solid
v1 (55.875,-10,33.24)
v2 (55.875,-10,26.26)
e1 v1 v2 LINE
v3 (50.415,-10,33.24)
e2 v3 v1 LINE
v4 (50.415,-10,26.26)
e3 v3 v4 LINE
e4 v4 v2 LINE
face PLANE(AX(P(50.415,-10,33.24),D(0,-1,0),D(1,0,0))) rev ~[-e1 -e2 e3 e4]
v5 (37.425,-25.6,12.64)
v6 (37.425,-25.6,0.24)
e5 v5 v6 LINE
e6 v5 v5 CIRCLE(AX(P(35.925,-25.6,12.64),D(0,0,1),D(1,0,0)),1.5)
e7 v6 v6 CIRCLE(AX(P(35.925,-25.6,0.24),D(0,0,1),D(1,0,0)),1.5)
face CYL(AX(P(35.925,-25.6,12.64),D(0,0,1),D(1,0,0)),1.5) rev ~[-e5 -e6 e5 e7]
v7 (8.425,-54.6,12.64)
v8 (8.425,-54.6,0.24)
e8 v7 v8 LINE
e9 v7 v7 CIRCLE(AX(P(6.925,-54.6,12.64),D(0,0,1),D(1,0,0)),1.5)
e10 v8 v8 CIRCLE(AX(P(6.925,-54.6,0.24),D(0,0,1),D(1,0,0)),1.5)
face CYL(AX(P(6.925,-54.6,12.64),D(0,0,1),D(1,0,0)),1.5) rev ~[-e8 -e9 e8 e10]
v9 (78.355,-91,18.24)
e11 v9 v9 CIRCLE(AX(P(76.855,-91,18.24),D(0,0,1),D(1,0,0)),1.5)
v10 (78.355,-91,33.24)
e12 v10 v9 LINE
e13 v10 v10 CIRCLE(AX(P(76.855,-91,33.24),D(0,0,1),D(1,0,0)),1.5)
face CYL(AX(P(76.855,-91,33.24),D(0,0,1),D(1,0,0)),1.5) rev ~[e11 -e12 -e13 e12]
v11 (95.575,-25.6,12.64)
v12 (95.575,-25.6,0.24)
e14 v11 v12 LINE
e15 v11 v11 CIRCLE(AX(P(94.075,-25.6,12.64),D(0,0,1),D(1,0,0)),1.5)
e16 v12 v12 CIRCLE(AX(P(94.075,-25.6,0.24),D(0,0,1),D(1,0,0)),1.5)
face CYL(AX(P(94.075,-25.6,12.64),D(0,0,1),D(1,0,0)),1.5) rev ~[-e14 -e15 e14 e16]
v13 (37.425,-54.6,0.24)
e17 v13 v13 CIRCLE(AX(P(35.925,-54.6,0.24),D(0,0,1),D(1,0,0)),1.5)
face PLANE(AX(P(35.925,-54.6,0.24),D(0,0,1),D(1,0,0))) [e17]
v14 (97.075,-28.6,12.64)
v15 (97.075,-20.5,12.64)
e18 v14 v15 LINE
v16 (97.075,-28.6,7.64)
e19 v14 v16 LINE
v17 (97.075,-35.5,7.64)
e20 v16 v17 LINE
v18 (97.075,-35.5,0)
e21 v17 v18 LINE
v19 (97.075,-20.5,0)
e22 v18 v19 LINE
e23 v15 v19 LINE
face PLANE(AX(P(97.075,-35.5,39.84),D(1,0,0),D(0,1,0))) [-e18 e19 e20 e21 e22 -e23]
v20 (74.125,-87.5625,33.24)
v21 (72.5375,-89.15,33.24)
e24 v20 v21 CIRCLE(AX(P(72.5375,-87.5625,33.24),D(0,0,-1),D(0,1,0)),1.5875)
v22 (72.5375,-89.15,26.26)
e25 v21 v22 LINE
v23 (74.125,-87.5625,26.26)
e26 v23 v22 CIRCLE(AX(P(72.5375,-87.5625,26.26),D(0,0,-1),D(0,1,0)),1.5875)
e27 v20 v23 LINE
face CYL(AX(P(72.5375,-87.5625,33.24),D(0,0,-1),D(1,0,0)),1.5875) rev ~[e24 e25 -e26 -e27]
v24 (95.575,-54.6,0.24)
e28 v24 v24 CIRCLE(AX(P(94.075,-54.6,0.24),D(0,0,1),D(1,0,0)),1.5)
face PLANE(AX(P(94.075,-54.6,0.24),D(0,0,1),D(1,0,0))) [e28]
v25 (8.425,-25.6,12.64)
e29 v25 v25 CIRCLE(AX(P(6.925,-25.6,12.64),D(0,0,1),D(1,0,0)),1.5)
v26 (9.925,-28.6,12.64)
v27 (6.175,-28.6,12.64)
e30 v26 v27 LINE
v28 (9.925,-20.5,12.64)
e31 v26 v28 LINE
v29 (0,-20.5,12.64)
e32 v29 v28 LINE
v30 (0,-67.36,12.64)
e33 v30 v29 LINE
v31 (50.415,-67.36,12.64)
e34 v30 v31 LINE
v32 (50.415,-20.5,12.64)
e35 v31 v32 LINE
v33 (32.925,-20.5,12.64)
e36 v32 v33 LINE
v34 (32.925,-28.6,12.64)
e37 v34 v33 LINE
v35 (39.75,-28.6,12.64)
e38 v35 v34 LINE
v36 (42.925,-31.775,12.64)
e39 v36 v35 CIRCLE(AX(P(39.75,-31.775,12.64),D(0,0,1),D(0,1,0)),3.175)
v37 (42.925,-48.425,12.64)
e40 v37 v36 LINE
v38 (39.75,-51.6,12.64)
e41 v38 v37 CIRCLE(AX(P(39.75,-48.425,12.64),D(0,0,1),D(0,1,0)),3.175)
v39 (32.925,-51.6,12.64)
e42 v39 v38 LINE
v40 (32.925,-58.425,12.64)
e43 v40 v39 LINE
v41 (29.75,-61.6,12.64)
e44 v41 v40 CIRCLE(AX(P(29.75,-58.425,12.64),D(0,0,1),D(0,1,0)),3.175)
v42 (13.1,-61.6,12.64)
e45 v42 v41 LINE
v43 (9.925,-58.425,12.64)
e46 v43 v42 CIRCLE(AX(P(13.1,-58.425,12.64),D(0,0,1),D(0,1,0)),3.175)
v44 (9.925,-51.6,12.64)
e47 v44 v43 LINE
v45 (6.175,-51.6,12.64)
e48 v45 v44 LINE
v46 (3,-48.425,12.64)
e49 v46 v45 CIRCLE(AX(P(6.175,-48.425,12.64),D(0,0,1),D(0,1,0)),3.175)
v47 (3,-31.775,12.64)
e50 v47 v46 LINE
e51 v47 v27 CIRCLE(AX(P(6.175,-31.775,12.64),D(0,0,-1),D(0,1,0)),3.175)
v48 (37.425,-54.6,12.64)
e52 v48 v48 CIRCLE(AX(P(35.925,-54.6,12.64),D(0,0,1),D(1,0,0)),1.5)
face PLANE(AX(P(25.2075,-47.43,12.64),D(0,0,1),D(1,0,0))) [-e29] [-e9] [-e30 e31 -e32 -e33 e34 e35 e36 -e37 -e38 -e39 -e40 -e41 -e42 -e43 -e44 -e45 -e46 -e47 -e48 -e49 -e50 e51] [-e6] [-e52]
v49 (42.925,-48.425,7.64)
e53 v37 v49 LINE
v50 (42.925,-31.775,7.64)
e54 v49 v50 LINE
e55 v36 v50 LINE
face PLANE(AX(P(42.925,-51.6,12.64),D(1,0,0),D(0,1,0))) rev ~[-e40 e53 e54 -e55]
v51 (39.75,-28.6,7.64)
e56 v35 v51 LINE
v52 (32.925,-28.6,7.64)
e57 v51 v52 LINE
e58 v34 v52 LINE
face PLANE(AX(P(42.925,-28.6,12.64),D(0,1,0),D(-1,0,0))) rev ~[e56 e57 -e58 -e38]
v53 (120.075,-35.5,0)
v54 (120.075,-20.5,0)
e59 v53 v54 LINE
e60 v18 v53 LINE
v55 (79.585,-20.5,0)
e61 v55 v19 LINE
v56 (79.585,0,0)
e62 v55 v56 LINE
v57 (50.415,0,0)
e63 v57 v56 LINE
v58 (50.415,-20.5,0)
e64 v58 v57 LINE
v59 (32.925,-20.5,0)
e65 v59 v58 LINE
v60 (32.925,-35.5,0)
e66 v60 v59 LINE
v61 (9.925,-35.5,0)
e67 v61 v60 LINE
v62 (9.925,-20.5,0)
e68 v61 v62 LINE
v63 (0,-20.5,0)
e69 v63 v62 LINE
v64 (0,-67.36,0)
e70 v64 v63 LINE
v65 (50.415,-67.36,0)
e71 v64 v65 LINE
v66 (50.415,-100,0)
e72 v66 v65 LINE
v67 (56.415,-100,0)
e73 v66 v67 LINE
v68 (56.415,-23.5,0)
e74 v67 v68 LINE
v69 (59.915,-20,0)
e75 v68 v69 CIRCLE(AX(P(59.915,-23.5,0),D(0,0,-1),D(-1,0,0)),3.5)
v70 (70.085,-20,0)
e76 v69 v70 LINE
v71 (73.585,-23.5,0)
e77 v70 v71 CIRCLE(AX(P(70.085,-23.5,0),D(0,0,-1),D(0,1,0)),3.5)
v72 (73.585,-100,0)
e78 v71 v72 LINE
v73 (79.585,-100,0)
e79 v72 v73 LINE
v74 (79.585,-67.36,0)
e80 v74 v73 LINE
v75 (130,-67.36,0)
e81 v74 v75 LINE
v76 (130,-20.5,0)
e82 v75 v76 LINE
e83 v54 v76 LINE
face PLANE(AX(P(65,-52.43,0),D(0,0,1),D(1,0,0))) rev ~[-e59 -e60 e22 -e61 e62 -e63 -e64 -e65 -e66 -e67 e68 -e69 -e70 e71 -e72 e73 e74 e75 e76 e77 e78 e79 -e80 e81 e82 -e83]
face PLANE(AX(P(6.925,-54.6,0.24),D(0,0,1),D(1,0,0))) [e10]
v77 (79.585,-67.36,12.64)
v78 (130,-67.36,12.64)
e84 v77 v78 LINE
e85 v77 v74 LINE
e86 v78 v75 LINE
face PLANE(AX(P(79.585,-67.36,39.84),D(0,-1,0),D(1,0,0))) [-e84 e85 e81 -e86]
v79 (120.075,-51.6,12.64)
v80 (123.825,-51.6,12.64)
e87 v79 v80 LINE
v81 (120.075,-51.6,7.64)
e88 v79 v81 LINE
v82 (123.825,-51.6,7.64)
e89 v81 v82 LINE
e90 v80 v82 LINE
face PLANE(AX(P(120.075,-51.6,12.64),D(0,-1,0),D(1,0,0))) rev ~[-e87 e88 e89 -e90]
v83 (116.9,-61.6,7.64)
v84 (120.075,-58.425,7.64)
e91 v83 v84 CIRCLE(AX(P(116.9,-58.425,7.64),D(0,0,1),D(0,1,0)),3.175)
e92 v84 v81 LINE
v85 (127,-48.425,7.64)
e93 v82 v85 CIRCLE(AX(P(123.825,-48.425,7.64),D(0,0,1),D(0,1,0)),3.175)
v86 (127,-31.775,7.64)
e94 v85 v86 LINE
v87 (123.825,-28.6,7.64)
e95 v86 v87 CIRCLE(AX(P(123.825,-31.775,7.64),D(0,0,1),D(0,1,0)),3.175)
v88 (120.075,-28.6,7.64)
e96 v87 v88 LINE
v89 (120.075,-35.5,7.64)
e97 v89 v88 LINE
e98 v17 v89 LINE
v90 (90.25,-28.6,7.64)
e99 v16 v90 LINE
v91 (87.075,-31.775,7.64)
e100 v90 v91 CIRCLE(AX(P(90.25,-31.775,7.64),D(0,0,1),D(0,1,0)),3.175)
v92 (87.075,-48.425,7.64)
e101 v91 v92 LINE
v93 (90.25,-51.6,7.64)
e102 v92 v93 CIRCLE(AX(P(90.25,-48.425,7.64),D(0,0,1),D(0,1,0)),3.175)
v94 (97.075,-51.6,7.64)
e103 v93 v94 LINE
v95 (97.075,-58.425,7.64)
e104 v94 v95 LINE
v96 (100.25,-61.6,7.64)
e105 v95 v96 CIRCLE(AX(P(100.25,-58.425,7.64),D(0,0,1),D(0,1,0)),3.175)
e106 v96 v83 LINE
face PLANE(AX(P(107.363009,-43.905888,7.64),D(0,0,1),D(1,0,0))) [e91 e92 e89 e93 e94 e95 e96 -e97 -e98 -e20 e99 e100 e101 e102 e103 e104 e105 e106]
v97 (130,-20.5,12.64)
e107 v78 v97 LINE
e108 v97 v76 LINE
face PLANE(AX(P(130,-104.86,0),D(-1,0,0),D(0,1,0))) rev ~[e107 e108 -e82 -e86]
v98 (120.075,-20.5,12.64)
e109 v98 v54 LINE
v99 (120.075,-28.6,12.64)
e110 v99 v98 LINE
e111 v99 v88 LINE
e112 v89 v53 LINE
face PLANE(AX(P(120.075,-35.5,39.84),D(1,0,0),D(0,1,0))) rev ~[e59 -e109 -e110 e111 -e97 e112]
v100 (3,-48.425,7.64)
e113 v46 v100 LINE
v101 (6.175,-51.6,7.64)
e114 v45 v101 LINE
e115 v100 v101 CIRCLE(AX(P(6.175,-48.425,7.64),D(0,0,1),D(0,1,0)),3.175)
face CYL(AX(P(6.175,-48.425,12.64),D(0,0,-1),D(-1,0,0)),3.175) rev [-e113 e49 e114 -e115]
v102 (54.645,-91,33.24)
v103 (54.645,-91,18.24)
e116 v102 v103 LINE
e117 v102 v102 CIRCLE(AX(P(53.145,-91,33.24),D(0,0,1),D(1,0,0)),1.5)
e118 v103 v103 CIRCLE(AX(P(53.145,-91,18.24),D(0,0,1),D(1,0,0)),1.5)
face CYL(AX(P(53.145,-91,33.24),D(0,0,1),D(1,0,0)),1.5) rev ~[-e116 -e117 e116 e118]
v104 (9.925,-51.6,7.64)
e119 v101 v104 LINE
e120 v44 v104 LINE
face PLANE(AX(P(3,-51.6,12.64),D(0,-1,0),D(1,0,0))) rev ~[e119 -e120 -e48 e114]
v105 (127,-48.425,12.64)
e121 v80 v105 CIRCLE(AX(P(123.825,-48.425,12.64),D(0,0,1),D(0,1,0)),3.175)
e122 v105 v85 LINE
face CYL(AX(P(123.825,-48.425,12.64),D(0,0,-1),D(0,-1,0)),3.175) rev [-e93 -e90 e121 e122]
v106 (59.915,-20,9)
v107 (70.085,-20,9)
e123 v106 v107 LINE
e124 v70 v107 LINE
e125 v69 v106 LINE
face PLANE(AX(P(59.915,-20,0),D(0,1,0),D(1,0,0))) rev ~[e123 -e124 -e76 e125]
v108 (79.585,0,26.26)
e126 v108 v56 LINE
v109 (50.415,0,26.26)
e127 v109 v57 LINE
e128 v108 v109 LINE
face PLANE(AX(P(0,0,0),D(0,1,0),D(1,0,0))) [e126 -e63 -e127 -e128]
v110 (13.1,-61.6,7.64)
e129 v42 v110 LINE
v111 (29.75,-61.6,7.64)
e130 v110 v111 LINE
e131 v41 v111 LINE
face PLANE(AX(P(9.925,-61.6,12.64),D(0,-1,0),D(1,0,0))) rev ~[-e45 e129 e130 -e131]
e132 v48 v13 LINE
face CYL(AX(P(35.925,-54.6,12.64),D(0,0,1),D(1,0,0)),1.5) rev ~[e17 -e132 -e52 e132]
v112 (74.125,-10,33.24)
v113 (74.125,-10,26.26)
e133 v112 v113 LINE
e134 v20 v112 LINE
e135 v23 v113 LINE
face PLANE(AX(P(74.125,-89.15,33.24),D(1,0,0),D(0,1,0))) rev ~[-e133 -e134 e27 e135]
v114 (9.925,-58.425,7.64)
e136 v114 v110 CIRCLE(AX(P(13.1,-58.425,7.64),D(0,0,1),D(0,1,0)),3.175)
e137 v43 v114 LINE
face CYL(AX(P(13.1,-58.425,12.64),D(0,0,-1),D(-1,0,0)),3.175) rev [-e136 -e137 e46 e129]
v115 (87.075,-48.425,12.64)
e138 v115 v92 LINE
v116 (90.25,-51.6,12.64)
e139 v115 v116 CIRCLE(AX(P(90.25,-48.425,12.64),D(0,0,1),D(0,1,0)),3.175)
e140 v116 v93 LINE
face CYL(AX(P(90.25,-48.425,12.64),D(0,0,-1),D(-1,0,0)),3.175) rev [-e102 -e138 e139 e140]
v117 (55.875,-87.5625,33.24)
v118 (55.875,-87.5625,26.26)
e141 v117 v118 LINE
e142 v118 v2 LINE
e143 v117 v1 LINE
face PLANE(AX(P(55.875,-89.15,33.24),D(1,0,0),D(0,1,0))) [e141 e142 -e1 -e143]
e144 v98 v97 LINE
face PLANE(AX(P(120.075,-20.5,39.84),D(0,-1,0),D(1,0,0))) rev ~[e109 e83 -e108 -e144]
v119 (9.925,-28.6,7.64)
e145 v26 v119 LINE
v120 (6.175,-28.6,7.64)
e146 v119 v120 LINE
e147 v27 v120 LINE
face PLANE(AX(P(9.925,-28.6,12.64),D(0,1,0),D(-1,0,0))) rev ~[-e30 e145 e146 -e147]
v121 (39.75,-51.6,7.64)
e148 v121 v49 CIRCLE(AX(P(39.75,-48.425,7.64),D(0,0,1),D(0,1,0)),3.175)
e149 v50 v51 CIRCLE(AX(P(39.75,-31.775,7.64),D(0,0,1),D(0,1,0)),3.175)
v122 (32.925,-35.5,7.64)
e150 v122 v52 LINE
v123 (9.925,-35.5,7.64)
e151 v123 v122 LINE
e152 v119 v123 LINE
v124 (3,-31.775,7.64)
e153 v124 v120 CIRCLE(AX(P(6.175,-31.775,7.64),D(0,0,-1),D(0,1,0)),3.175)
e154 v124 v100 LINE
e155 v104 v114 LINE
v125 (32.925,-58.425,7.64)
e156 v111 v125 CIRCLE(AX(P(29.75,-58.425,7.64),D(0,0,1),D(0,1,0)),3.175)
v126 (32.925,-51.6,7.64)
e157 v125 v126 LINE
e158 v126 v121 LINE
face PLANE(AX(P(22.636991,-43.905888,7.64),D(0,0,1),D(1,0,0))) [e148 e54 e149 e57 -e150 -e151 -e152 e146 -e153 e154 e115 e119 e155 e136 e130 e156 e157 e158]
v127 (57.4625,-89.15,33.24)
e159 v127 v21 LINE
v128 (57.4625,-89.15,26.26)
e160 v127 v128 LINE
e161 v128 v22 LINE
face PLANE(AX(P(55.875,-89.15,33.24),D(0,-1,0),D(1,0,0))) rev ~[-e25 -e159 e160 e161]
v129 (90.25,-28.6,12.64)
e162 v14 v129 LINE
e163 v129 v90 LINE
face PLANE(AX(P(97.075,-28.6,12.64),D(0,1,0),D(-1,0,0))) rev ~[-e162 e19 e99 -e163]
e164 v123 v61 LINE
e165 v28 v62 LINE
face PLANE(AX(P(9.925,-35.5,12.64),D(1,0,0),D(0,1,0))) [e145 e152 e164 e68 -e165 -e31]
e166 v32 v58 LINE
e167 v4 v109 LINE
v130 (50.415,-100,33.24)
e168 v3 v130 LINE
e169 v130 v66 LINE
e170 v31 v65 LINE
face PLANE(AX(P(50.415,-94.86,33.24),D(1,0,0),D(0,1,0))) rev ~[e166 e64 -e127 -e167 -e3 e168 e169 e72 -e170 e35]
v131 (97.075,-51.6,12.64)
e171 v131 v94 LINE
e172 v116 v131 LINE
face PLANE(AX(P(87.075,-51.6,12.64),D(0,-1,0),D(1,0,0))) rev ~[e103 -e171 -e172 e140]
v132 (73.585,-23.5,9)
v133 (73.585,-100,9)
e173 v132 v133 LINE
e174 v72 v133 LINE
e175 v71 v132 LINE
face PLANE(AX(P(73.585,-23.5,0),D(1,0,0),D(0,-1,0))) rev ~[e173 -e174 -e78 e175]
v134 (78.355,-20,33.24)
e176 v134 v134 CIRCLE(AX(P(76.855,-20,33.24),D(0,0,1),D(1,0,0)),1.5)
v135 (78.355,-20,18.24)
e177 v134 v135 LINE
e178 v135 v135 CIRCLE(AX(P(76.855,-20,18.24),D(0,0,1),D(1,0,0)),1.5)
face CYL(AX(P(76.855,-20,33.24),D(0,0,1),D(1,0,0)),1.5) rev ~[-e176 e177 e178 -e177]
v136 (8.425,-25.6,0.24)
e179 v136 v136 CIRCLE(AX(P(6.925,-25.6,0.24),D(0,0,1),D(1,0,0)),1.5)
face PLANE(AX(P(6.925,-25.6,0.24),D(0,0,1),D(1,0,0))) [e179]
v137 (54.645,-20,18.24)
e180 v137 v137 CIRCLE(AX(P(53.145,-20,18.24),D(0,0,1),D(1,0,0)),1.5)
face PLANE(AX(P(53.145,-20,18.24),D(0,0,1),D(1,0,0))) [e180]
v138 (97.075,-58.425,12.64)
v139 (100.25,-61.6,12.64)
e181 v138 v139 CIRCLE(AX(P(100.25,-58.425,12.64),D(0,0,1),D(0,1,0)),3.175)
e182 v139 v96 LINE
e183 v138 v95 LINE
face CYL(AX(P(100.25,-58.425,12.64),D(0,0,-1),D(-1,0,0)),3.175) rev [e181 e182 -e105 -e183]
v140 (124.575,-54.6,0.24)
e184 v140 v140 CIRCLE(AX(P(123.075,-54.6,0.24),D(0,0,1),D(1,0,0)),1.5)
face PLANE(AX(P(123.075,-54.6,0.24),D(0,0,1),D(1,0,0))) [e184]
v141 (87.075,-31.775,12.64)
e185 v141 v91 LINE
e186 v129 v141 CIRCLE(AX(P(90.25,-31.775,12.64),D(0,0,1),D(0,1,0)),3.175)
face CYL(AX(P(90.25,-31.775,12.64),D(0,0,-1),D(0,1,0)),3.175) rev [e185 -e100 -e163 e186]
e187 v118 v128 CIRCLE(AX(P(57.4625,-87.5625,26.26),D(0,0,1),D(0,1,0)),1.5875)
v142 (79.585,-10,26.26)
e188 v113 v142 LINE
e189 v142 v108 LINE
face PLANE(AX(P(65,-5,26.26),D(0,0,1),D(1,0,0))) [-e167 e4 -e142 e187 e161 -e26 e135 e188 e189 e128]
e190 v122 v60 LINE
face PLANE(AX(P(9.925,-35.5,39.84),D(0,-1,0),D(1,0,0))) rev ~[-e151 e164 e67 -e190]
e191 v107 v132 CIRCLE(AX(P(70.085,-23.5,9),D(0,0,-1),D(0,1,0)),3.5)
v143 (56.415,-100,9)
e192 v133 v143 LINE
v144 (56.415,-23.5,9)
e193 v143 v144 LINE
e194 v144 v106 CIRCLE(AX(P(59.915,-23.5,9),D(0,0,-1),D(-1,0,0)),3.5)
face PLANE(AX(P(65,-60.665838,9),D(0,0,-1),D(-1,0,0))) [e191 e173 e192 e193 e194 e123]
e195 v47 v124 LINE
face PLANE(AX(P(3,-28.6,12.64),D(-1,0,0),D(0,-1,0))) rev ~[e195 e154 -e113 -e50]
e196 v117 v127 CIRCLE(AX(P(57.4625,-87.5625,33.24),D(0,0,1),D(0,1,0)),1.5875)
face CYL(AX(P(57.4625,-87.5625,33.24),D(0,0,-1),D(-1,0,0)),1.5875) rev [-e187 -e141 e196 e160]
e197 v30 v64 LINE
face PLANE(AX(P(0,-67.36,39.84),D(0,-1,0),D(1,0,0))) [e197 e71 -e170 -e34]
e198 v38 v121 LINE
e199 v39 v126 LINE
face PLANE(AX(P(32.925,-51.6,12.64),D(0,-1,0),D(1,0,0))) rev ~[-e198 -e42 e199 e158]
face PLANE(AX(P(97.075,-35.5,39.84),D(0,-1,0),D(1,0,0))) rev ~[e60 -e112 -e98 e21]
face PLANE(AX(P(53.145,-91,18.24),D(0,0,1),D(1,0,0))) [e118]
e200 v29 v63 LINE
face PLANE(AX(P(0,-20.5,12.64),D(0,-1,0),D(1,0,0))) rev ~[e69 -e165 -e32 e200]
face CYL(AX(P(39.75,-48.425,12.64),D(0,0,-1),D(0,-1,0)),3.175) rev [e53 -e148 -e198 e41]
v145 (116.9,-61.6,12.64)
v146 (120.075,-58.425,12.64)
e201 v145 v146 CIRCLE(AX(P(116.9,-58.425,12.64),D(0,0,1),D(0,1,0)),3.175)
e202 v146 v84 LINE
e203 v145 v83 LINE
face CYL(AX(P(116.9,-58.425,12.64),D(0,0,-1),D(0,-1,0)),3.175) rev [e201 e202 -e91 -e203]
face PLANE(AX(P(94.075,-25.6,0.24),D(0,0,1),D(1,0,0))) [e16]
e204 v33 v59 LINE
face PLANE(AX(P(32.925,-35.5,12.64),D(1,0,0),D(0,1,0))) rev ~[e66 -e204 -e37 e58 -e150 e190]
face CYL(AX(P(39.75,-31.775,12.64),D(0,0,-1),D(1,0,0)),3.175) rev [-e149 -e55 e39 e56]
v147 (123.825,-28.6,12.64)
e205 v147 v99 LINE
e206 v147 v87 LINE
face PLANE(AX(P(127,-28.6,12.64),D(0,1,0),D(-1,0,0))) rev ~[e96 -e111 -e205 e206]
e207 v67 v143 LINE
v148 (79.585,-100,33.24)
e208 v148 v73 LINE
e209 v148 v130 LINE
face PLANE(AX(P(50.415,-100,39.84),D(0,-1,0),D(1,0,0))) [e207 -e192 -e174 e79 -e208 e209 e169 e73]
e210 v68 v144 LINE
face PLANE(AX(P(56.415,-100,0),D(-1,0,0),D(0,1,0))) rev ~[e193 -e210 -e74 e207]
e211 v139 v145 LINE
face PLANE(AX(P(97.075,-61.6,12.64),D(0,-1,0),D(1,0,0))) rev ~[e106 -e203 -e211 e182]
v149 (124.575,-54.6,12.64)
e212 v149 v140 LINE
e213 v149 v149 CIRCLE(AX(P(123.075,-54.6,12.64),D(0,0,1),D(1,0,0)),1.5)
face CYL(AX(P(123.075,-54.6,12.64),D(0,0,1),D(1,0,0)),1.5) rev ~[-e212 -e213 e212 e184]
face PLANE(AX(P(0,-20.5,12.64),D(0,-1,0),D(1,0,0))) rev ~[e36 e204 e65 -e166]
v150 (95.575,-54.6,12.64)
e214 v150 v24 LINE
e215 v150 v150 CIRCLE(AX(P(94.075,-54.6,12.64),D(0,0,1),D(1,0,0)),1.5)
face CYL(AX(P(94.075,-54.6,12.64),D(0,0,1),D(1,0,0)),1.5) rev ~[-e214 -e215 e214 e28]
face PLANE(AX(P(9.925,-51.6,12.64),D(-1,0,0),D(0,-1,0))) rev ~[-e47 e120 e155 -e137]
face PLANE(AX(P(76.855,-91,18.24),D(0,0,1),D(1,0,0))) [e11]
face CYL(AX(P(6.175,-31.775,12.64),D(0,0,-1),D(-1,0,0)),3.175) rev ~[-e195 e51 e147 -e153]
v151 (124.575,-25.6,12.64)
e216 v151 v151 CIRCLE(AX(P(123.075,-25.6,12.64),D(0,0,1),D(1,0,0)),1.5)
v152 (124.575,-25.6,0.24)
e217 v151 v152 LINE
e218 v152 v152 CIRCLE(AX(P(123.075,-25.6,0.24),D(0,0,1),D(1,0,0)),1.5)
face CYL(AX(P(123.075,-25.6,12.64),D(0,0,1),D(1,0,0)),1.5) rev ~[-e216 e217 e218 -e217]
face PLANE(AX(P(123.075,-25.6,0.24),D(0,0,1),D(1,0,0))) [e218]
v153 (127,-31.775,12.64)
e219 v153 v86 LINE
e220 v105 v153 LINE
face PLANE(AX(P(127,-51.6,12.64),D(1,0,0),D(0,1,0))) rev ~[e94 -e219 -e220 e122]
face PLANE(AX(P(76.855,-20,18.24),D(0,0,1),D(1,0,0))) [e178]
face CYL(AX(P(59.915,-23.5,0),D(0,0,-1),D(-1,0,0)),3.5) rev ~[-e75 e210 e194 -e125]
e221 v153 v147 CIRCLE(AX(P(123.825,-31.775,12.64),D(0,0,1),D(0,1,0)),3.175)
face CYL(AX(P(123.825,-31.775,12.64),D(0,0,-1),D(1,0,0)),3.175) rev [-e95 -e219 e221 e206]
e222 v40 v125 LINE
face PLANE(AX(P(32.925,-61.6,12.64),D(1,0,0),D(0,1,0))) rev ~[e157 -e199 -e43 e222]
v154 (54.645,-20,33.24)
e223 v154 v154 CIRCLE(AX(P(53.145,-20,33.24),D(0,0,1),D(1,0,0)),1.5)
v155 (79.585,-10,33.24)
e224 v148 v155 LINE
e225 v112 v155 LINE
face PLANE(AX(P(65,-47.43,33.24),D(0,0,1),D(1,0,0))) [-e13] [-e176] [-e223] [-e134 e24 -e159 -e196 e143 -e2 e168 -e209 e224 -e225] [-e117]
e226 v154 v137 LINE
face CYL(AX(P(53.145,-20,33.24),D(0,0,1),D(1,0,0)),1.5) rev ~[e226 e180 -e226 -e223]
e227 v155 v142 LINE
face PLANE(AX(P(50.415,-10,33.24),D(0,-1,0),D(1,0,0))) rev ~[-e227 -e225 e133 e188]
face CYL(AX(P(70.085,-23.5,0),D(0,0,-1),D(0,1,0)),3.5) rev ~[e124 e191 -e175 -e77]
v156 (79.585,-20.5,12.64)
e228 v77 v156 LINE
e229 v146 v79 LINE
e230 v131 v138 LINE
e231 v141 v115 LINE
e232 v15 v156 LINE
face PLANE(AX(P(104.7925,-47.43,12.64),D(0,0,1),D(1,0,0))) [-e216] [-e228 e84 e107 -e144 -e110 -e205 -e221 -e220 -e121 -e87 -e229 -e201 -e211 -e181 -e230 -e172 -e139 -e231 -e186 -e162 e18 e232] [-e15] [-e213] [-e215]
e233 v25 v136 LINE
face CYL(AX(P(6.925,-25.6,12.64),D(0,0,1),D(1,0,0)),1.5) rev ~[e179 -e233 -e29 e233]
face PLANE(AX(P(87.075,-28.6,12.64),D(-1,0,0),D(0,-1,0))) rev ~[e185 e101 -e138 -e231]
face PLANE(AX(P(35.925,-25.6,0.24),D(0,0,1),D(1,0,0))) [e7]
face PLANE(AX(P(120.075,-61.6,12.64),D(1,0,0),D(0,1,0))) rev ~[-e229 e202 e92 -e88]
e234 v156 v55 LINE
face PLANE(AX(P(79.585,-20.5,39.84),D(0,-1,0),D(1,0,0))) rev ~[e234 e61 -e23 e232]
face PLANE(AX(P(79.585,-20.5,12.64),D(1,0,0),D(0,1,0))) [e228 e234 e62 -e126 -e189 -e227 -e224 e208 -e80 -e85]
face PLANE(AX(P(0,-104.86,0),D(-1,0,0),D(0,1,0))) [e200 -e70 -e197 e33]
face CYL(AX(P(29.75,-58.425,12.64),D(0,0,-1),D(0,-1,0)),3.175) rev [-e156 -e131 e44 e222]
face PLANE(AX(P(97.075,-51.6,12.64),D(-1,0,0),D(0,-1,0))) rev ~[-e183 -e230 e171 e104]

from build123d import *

# Parameters (mm, degrees)
SKETCH1_W           = 130
SKETCH1_H           = 104.86
BOSS_EXTRUDE1_DEPTH = 39.84
SKETCH2_W           = 130
SKETCH2_H           = 94.86
CUT_EXTRUDE1_DEPTH  = 6.6
SKETCH3_W           = 18.25
SKETCH3_H           = 89.15
CUT_EXTRUDE2_DEPTH  = 6.98
SKETCH5_W           = 50.415
SKETCH5_H           = 94.86
CUT_EXTRUDE3_DEPTH  = 20.6
SKETCH6_R           = 1.5
CUT_EXTRUDE4_DEPTH  = 12.4
SKETCH7_W           = 50.415
SKETCH7_H           = 20.5
CUT_EXTRUDE5_DEPTH  = 12.4
SKETCH9_W           = 23
SKETCH9_H           = 15
CUT_EXTRUDE7_DEPTH  = 12.4
CUT_EXTRUDE8_DEPTH  = 5
SKETCH11_R          = 1.5
CUT_EXTRUDE9_DEPTH  = 15
FILLET2_R           = 3.175
FILLET3_R           = 3.175
FILLET4_R           = 3.175
FILLET5_R           = 1.5875
FILLET6_R           = 3.175
SKETCH12_W          = 50.415
SKETCH12_H          = 20.5
SKETCH12_W_2        = 23
SKETCH12_H_2        = 15
SKETCH12_H_3        = 27.5
SKETCH12_W_3        = 29.17
SKETCH12_H_4        = 4.86
CUT_EXTRUDE11_DEPTH = 42
SKETCH13_W          = 6.6
SKETCH13_H          = 5.14
CUT_EXTRUDE12_DEPTH = 80.585
SKETCH14_W          = 29.17
SKETCH14_H          = 10
CUT_EXTRUDE14_DEPTH = 6.98
CUT_EXTRUDE15_DEPTH = 9


with BuildPart() as part:
    # Sketch1 → Boss-Extrude1 (new body)
    with BuildSketch(Plane.XY):
        with Locations((65, -52.43)):
            Rectangle(SKETCH1_W, SKETCH1_H)
    extrude(amount=BOSS_EXTRUDE1_DEPTH)

    # Sketch2 → Cut-Extrude1 (cut)
    with BuildSketch(Plane.XY.offset(39.84)):
        with Locations((65, -47.43)):
            Rectangle(SKETCH2_W, SKETCH2_H)
    extrude(amount=-CUT_EXTRUDE1_DEPTH, mode=Mode.SUBTRACT)

    # Sketch3 → Cut-Extrude2 (cut)
    with BuildSketch(Plane.XY.offset(33.24)):
        with Locations((65, -44.575)):
            Rectangle(SKETCH3_W, SKETCH3_H)
    extrude(amount=-CUT_EXTRUDE2_DEPTH, mode=Mode.SUBTRACT)

    # Sketch5 → Cut-Extrude3 (cut)
    with BuildSketch(Plane.XY.offset(33.24)):
        with Locations((104.7925, -47.43)):
            Rectangle(SKETCH5_W, SKETCH5_H)
        with Locations((25.2075, -47.43)):
            Rectangle(SKETCH5_W, SKETCH5_H)
    extrude(amount=-CUT_EXTRUDE3_DEPTH, mode=Mode.SUBTRACT)

    # Sketch6 → Cut-Extrude4 (cut)
    with BuildSketch(Plane.XY.offset(12.64)):
        with Locations((35.925, -25.6)):
            Circle(SKETCH6_R)
        with Locations((6.925, -25.6)):
            Circle(SKETCH6_R)
        with Locations((35.925, -54.6)):
            Circle(SKETCH6_R)
        with Locations((6.925, -54.6)):
            Circle(SKETCH6_R)
        with Locations((94.075, -25.6)):
            Circle(SKETCH6_R)
        with Locations((123.075, -25.6)):
            Circle(SKETCH6_R)
        with Locations((94.075, -54.6)):
            Circle(SKETCH6_R)
        with Locations((123.075, -54.6)):
            Circle(SKETCH6_R)
    extrude(amount=-CUT_EXTRUDE4_DEPTH, mode=Mode.SUBTRACT)

    # Sketch7 → Cut-Extrude5 (cut)
    with BuildSketch(Plane.XY.offset(12.64)):
        with Locations((25.2075, -10.25)):
            Rectangle(SKETCH7_W, SKETCH7_H)
        with Locations((104.7925, -10.25)):
            Rectangle(SKETCH7_W, SKETCH7_H)
    extrude(amount=-CUT_EXTRUDE5_DEPTH, mode=Mode.SUBTRACT)

    # Sketch9 → Cut-Extrude7 (cut)
    with BuildSketch(Plane.XY.offset(12.64)):
        with Locations((108.575, -28)):
            Rectangle(SKETCH9_W, SKETCH9_H)
        with Locations((21.425, -28)):
            Rectangle(SKETCH9_W, SKETCH9_H)
    extrude(amount=-CUT_EXTRUDE7_DEPTH, mode=Mode.SUBTRACT)

    # Sketch10 → Cut-Extrude8 (cut)
    with BuildSketch(Plane.XY.offset(12.64)):
        Polygon((9.925, -28.6), (3, -28.6), (3, -51.6), (9.925, -51.6), (9.925, -61.6), (32.925, -61.6), (32.925, -51.6), (42.925, -51.6), (42.925, -28.6), (32.925, -28.6), (32.925, -35.5), (9.925, -35.5), align=None)
        Polygon((97.075, -28.6), (87.075, -28.6), (87.075, -51.6), (97.075, -51.6), (97.075, -61.6), (120.075, -61.6), (120.075, -51.6), (127, -51.6), (127, -28.6), (120.075, -28.6), (120.075, -35.5), (97.075, -35.5), align=None)
    extrude(amount=-CUT_EXTRUDE8_DEPTH, mode=Mode.SUBTRACT)

    # Sketch11 → Cut-Extrude9 (cut)
    with BuildSketch(Plane.XY.offset(33.24)):
        with Locations((53.145, -20)):
            Circle(SKETCH11_R)
        with Locations((76.855, -20)):
            Circle(SKETCH11_R)
        with Locations((53.145, -91)):
            Circle(SKETCH11_R)
        with Locations((76.855, -91)):
            Circle(SKETCH11_R)
    extrude(amount=-CUT_EXTRUDE9_DEPTH, mode=Mode.SUBTRACT)

    # Fillet2
    fillet2_edges = [part.edges().sort_by_distance(p)[0] for p in [
        (3, -51.6, 10.14),
    ]]
    fillet(fillet2_edges, radius=FILLET2_R)

    # Fillet3
    fillet3_edges = [part.edges().sort_by_distance(p)[0] for p in [
        (50.415, -20.5, 6.44),
        (79.585, -20.5, 6.44),
        (32.925, -35.5, 3.94),
        (9.925, -35.5, 3.94),
        (42.925, -28.6, 10.14),
        (42.925, -51.6, 10.14),
        (32.925, -61.6, 10.14),
        (9.925, -61.6, 10.14),
        (3, -28.6, 10.14),
        (127, -28.6, 10.14),
        (127, -51.6, 10.14),
        (120.075, -61.6, 10.14),
        (97.075, -61.6, 10.14),
        (87.075, -51.6, 10.14),
        (87.075, -28.6, 10.14),
    ]]
    fillet(fillet3_edges, radius=FILLET3_R)

    # Fillet4
    fillet4_edges = [part.edges().sort_by_distance(p)[0] for p in [
        (120.075, -35.5, 3.94),
        (97.075, -35.5, 3.94),
    ]]
    fillet(fillet4_edges, radius=FILLET4_R)

    # Fillet5
    fillet5_edges = [part.edges().sort_by_distance(p)[0] for p in [
        (74.125, -89.15, 29.75),
        (55.875, -89.15, 29.75),
    ]]
    fillet(fillet5_edges, radius=FILLET5_R)

    # Fillet6
    fillet6_edges = [part.edges().sort_by_distance(p)[0] for p in [
        (79.585, -94.86, 22.94),
        (50.415, -94.86, 22.94),
    ]]
    fillet(fillet6_edges, radius=FILLET6_R)

    # Sketch12 → Cut-Extrude11 (cut)
    with BuildSketch(Plane.XY.offset(39.84)):
        with Locations((25.2075, -10.25)):
            Rectangle(SKETCH12_W, SKETCH12_H)
        with Locations((104.7925, -10.25)):
            Rectangle(SKETCH12_W, SKETCH12_H)
        with Locations((108.575, -28)):
            Rectangle(SKETCH12_W_2, SKETCH12_H_2)
        with Locations((21.425, -28)):
            Rectangle(SKETCH12_W_2, SKETCH12_H_2)
        with Locations((25.2075, -81.11)):
            Rectangle(SKETCH12_W, SKETCH12_H_3)
        with Locations((104.7925, -81.11)):
            Rectangle(SKETCH12_W, SKETCH12_H_3)
        Polygon((130, -94.86), (79.585, -94.86), (79.585, -100), (79.585, -104.86), (130, -104.86), align=None)
        Polygon((50.415, -94.86), (0, -94.86), (0, -104.86), (50.415, -104.86), (50.415, -100), (50.415, -95.14), align=None)
        with Locations((65, -102.43)):
            Rectangle(SKETCH12_W_3, SKETCH12_H_4)
    extrude(amount=-CUT_EXTRUDE11_DEPTH, mode=Mode.SUBTRACT)

    # Sketch13 → Cut-Extrude12 (cut, through all)
    with BuildSketch(Plane(origin=(79.585, 0, 0), x_dir=(0, 0, -1), z_dir=(1, 0, 0))):
        with Locations((-36.54, -97.43)):
            Rectangle(SKETCH13_W, SKETCH13_H)
    extrude(amount=-CUT_EXTRUDE12_DEPTH, mode=Mode.SUBTRACT)

    # Sketch14 → Cut-Extrude14 (cut)
    with BuildSketch(Plane.XY.offset(33.24)):
        with Locations((65, -5)):
            Rectangle(SKETCH14_W, SKETCH14_H)
    extrude(amount=-CUT_EXTRUDE14_DEPTH, mode=Mode.SUBTRACT)

    # Sketch15 → Cut-Extrude15 (cut)
    with BuildSketch(Plane(origin=(0, 0, 0), x_dir=(-1, 0, 0), z_dir=(0, 0, -1))):
        with BuildLine():
            Line((-73.585, -100), (-56.415, -100))
            Line((-56.415, -100), (-56.415, -23.5))
            ThreePointArc((-56.415, -23.5), (-57.440126266, -21.025126266), (-59.915, -20))
            Line((-59.915, -20), (-70.085, -20))
            ThreePointArc((-70.085, -20), (-72.559873734, -21.025126266), (-73.585, -23.5))
            Line((-73.585, -23.5), (-73.585, -100))
        make_face()
    extrude(amount=-CUT_EXTRUDE15_DEPTH, mode=Mode.SUBTRACT)


solid = part.part
